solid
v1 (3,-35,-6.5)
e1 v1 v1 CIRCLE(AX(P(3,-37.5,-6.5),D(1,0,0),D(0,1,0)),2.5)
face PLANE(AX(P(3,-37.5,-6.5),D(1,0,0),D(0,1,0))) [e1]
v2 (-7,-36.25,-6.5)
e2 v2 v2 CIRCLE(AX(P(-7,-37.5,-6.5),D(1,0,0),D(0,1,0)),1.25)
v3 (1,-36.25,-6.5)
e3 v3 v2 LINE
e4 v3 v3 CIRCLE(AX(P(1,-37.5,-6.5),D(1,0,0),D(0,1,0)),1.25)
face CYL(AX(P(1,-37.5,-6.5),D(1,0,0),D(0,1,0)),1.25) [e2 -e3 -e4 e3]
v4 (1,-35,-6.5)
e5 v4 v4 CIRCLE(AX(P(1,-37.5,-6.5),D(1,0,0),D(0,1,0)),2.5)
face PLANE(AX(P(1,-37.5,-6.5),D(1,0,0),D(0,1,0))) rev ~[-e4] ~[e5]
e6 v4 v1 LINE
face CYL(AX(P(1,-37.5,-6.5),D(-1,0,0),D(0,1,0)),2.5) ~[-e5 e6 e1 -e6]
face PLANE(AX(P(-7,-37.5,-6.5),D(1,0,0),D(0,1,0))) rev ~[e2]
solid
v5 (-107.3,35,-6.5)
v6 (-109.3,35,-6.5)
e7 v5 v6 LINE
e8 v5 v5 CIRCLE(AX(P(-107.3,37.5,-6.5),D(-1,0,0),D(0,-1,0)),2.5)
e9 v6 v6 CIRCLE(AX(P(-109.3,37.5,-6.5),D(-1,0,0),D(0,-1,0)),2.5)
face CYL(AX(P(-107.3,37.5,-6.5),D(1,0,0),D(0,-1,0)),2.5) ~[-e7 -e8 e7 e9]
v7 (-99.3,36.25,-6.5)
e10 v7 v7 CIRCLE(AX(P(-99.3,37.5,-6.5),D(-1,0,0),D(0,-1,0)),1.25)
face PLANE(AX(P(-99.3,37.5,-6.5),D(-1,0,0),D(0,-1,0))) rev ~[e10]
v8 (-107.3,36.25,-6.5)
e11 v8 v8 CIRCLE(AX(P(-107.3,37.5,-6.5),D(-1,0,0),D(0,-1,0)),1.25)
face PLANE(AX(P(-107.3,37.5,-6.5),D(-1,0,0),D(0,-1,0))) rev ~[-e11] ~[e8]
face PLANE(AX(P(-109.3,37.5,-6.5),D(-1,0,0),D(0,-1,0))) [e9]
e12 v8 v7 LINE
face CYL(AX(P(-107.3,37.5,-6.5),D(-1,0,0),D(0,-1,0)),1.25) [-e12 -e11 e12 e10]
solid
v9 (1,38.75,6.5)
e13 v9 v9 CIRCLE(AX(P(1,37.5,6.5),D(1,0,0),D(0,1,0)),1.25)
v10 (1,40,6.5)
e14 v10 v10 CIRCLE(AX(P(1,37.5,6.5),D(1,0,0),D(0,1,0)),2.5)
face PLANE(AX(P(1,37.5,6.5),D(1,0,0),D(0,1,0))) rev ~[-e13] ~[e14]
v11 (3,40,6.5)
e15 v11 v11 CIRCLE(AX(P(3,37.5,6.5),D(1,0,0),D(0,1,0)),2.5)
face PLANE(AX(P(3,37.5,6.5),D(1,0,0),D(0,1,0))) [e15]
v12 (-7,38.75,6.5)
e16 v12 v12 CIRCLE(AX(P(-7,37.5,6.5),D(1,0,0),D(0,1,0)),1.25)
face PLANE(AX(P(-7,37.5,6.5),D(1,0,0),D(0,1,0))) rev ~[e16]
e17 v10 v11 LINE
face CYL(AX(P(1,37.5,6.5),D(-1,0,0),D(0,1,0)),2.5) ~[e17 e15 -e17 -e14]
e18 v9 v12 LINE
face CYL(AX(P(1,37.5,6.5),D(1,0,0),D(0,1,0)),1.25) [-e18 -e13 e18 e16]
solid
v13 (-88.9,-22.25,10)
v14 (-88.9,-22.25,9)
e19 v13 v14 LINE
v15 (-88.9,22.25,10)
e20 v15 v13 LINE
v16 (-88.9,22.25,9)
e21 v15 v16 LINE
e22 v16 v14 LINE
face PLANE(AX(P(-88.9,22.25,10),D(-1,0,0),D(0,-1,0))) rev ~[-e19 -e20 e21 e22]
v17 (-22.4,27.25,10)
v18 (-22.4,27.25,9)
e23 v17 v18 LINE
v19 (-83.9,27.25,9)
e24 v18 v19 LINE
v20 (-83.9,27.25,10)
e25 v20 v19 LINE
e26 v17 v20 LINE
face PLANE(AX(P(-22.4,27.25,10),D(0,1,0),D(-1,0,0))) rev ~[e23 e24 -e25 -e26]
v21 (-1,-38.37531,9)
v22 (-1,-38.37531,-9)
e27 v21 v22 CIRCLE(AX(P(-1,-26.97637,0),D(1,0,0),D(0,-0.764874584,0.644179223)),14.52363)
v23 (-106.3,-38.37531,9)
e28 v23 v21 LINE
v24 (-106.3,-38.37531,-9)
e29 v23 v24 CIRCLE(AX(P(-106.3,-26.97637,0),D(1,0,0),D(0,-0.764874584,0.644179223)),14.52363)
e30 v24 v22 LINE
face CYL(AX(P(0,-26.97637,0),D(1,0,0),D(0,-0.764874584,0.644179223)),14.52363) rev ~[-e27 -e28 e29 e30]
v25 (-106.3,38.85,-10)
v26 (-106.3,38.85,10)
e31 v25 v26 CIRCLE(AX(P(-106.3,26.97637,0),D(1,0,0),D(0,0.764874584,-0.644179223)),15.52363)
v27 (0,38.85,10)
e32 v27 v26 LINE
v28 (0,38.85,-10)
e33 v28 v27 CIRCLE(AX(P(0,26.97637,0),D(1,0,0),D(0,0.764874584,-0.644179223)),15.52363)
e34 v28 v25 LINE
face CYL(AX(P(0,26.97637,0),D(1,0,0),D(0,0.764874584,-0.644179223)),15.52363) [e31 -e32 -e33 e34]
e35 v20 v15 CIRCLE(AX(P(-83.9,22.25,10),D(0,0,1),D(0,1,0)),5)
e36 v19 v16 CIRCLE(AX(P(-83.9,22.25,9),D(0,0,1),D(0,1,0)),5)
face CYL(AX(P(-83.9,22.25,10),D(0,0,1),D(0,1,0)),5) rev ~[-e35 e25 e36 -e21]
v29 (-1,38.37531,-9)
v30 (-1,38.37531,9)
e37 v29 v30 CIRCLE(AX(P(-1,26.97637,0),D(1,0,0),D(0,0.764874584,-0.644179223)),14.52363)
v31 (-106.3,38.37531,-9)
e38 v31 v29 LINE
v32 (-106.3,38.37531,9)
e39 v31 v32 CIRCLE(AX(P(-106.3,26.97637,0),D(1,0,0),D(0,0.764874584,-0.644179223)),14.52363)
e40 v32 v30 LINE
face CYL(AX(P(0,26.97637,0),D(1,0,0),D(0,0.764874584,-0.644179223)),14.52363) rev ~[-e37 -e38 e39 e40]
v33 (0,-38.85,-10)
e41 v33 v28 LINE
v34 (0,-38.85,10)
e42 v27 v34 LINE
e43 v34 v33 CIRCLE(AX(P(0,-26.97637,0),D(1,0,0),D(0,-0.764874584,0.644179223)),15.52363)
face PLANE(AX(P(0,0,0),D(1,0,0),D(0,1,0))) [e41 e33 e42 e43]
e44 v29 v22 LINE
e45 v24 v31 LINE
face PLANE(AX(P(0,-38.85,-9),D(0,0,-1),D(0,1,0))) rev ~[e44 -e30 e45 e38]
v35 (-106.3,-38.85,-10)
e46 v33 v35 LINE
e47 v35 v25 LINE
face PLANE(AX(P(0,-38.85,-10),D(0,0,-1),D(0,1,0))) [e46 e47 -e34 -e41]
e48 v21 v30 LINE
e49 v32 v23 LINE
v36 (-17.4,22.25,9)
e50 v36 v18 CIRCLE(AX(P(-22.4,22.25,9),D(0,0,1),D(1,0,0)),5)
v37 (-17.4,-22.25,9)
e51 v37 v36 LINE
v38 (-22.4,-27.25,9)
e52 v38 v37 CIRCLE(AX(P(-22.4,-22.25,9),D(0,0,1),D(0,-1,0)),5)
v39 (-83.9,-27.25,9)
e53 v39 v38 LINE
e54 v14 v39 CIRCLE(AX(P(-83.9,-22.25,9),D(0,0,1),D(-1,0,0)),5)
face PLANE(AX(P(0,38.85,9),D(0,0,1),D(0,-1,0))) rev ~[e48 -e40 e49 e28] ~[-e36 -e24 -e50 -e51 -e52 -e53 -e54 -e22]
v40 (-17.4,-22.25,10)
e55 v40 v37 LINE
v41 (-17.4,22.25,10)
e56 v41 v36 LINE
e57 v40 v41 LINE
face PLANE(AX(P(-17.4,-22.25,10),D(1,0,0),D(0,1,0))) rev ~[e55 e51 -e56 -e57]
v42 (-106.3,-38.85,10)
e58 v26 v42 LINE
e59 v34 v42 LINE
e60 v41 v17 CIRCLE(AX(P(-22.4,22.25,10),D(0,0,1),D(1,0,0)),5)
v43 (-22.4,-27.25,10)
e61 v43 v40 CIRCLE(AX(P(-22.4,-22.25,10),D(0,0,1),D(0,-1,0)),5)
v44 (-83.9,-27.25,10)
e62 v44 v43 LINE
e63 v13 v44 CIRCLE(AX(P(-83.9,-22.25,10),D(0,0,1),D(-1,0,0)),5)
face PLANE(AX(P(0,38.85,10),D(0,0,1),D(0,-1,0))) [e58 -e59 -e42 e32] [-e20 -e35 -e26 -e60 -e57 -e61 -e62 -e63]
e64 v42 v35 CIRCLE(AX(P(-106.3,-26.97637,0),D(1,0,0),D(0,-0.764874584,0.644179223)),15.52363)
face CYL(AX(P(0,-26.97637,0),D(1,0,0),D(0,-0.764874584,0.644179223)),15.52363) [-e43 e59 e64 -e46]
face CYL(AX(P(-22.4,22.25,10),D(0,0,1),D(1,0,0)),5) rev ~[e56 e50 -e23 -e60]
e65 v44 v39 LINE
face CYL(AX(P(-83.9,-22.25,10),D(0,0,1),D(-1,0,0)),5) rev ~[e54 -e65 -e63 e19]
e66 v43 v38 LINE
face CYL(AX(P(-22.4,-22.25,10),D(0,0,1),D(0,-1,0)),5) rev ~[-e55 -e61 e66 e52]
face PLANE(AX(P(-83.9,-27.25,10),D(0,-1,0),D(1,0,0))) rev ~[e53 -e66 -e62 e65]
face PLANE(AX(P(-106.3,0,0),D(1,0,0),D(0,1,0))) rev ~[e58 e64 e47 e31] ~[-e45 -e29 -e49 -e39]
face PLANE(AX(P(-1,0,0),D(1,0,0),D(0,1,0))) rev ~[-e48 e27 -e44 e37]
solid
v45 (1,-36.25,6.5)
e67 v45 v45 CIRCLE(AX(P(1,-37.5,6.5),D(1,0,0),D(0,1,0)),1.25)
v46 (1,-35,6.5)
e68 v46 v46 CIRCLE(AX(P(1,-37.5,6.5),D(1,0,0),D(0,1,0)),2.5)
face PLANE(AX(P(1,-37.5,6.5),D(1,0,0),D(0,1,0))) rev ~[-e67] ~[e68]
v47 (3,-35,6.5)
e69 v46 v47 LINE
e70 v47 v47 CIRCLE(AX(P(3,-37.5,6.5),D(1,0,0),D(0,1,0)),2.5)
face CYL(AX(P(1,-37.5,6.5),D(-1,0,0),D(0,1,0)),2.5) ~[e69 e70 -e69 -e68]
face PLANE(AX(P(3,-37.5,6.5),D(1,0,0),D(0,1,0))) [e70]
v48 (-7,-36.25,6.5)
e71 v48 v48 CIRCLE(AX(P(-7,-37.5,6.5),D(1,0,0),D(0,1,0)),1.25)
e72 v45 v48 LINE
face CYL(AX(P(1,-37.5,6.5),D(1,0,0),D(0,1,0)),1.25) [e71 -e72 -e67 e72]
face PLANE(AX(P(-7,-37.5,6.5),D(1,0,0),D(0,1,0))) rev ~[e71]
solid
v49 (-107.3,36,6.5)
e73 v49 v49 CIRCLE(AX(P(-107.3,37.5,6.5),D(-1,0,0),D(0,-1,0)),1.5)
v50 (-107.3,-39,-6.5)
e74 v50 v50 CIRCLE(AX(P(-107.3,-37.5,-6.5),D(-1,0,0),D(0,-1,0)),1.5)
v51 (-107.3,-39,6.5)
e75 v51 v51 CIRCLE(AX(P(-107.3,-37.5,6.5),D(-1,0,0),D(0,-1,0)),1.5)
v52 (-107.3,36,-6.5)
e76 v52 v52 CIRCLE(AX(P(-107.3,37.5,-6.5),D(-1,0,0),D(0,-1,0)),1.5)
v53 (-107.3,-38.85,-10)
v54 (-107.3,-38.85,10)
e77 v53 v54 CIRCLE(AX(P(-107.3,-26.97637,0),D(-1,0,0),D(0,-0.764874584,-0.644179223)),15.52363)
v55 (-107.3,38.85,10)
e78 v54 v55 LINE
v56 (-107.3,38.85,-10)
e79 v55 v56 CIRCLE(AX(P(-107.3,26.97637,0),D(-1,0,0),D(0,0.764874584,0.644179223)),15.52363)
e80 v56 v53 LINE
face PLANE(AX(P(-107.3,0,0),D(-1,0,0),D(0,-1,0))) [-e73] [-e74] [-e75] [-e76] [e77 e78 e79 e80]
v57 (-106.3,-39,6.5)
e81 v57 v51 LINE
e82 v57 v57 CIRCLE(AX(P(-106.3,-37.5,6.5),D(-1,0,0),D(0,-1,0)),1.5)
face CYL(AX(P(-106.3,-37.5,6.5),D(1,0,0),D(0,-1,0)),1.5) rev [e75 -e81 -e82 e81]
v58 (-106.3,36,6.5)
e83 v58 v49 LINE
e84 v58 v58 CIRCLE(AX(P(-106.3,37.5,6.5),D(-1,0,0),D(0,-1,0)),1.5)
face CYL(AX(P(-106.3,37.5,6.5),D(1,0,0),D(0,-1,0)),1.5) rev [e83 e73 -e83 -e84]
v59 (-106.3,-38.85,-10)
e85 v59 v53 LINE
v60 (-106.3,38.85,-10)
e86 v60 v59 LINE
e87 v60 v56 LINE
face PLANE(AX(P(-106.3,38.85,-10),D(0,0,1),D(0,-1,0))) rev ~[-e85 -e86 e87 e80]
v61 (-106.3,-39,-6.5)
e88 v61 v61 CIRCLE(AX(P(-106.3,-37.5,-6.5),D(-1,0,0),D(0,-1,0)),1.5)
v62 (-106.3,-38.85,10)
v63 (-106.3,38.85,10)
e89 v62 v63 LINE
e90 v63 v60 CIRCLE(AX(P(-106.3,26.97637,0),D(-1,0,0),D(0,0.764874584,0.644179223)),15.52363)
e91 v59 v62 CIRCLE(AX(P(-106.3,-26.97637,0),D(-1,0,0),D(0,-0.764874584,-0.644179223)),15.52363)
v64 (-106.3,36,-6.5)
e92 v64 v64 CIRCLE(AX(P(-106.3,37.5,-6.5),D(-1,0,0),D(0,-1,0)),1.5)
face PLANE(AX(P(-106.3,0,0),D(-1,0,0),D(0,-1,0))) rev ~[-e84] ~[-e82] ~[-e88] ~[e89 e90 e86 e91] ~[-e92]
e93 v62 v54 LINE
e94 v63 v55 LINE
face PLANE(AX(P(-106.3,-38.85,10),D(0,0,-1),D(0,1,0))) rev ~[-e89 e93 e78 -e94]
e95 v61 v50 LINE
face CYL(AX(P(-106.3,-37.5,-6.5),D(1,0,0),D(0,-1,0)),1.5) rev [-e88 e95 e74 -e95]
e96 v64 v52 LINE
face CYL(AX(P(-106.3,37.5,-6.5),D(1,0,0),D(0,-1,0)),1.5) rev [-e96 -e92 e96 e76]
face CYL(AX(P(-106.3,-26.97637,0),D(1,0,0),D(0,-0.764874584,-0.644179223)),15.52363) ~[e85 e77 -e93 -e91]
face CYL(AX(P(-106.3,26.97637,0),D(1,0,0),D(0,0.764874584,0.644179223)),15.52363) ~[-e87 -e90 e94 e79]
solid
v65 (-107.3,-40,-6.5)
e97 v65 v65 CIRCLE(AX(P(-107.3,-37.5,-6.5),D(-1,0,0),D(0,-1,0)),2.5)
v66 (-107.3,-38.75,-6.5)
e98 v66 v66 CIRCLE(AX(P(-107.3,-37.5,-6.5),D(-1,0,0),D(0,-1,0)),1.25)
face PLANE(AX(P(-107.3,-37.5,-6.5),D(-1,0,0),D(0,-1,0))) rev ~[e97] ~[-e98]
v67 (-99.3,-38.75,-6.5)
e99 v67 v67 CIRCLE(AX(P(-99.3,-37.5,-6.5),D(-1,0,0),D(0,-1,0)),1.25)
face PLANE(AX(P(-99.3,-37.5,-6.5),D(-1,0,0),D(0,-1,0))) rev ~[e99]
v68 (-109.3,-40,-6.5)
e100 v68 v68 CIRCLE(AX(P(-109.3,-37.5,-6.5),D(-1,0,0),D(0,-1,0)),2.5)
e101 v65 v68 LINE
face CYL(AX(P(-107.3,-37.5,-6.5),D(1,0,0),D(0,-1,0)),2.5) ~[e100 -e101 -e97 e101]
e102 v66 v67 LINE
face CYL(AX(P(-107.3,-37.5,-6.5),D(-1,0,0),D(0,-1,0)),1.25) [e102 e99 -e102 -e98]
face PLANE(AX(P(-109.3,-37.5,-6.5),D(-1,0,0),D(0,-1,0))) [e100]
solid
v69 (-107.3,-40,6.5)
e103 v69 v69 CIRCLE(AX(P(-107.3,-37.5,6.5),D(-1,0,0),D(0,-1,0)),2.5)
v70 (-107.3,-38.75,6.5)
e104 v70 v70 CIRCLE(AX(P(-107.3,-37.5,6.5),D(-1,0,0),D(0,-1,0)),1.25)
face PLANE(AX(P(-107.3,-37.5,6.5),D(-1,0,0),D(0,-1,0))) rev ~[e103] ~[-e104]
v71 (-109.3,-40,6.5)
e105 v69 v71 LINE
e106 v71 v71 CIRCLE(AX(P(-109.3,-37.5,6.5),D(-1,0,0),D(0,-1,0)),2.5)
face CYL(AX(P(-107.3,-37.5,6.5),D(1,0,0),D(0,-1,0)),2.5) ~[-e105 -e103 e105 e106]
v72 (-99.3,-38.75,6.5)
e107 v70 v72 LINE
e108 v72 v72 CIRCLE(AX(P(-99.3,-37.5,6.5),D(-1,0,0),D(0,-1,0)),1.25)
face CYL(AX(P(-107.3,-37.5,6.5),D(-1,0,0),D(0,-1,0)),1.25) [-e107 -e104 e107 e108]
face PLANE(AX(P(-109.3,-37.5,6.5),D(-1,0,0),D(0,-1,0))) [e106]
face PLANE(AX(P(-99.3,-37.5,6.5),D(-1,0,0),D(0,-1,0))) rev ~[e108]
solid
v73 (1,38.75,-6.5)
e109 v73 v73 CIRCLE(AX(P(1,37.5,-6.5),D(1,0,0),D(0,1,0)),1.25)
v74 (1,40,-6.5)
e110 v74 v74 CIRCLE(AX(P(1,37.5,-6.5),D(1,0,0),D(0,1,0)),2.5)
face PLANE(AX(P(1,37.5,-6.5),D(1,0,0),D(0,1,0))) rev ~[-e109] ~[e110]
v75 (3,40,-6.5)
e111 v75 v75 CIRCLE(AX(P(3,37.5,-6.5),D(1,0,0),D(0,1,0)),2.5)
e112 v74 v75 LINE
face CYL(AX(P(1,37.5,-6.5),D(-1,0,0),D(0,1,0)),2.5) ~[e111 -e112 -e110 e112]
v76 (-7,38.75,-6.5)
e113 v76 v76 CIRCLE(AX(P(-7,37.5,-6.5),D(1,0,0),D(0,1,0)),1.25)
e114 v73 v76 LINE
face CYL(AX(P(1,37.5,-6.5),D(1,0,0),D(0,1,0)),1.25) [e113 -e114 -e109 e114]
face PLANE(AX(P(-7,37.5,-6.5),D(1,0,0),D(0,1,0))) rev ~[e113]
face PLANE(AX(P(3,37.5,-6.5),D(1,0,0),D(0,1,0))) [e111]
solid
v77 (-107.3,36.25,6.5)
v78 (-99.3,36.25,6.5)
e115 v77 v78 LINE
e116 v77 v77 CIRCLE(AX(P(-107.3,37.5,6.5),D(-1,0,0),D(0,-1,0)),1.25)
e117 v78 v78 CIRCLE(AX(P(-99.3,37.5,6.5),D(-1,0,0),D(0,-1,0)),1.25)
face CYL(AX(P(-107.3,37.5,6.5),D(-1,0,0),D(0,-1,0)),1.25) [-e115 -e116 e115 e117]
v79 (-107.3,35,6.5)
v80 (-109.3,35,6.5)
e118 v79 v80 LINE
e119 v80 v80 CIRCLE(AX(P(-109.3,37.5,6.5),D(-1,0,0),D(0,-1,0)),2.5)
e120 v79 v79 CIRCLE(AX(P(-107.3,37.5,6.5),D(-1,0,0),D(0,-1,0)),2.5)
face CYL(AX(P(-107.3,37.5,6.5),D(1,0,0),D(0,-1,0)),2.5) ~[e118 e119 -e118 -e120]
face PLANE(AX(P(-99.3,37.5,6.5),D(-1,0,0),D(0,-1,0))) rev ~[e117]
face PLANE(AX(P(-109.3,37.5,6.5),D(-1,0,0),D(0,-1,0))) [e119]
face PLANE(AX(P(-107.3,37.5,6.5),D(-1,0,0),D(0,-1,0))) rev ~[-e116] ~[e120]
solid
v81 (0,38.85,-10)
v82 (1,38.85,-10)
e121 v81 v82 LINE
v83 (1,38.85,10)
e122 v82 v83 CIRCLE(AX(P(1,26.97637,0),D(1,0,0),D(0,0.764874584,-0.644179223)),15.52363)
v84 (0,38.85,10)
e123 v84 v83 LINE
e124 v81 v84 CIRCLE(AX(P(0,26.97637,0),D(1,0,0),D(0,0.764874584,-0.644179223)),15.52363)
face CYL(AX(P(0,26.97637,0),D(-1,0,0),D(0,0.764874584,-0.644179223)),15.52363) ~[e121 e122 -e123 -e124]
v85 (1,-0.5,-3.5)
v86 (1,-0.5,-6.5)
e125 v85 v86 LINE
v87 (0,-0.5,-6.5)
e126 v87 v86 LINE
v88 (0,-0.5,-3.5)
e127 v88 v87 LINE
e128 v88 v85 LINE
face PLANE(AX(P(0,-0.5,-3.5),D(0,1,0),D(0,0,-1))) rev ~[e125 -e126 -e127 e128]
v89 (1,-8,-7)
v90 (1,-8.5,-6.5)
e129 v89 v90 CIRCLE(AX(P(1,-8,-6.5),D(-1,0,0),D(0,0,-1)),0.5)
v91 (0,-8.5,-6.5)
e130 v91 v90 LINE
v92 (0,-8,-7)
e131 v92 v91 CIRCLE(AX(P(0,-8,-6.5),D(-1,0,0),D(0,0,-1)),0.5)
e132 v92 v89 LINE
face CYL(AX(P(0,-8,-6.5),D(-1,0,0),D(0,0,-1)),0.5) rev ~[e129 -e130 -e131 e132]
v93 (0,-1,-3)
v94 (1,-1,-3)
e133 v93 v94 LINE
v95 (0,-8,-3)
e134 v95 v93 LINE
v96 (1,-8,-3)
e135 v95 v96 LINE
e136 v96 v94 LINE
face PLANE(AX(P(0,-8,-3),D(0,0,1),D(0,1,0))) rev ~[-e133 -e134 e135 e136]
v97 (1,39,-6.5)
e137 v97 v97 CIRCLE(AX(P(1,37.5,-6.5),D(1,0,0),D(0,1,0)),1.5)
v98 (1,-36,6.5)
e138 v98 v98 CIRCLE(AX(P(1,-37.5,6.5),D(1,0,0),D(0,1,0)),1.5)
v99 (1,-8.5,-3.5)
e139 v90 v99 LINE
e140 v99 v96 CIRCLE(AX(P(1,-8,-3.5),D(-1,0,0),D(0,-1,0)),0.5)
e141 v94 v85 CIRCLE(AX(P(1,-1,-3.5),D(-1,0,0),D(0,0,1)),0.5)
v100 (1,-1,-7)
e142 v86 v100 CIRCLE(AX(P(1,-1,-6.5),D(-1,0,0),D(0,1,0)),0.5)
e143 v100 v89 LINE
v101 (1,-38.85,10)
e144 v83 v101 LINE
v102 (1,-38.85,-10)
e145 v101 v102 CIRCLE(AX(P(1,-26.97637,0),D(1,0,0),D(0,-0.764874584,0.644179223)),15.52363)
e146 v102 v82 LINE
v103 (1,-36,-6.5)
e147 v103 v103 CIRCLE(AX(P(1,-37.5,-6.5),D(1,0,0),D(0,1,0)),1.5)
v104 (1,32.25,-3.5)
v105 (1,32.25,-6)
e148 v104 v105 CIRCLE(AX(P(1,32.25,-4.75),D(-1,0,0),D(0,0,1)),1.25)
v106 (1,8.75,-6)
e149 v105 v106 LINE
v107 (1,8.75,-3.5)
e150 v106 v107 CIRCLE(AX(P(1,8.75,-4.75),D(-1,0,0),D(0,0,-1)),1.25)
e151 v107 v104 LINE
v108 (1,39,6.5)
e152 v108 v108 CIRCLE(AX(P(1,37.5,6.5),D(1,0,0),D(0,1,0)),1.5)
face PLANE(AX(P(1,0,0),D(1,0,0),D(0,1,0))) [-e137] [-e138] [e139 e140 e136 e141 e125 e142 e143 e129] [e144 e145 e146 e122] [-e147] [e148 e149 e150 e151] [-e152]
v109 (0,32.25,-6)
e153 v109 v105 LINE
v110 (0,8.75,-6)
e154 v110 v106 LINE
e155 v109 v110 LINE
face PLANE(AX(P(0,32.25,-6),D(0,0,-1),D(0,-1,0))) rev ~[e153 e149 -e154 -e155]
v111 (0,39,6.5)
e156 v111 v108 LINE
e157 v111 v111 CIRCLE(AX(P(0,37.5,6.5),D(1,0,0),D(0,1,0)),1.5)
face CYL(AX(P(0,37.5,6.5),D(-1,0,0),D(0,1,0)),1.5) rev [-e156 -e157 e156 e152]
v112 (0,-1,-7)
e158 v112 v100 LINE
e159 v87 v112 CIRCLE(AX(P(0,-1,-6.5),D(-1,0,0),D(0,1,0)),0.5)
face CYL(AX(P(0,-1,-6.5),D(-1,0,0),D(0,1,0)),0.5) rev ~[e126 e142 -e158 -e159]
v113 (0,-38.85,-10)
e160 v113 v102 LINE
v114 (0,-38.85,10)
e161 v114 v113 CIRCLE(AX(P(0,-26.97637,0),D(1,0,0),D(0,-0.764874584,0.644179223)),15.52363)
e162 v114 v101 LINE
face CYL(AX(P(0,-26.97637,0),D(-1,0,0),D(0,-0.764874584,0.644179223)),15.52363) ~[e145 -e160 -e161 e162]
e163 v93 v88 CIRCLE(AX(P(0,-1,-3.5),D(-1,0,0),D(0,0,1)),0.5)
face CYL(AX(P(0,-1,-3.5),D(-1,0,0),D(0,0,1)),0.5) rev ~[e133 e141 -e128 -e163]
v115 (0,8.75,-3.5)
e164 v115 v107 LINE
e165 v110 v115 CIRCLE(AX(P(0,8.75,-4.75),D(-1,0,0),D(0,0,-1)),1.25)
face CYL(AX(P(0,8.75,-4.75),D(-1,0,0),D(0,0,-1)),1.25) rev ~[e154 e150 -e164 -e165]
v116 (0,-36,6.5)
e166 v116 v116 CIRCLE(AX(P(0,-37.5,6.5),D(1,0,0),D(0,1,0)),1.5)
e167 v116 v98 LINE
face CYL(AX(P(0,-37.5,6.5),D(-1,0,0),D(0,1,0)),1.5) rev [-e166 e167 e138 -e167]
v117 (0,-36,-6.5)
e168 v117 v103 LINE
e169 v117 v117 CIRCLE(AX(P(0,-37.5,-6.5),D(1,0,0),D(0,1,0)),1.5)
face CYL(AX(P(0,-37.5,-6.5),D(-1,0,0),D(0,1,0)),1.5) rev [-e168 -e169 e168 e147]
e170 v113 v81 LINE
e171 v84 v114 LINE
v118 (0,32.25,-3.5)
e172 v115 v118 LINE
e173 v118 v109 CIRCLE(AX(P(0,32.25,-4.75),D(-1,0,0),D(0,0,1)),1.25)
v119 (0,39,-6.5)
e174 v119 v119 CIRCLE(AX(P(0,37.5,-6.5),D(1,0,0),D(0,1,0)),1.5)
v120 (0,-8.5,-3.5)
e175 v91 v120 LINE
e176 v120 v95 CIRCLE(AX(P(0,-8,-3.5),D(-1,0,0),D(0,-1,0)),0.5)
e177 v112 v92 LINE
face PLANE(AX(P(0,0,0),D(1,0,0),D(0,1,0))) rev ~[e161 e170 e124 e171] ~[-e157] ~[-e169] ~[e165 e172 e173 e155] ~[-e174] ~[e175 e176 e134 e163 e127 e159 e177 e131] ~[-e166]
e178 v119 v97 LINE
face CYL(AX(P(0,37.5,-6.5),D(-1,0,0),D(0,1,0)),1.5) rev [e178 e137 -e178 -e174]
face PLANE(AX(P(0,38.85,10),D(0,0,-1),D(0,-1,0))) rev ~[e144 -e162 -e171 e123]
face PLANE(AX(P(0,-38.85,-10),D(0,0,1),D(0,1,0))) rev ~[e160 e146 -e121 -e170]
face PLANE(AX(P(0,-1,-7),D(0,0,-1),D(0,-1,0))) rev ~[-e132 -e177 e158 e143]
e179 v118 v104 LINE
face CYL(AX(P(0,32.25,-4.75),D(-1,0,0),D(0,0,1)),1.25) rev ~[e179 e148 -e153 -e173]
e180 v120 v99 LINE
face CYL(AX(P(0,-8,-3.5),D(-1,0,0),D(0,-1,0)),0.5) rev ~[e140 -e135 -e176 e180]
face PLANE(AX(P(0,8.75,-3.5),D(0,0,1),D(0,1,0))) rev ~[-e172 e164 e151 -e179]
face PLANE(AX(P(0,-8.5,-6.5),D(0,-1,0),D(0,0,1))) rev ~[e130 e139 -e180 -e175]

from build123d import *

# Parameters (mm, degrees)
F0_R      = 1.5
F1_DEPTH  = 1
F2_R      = 2.5
F2_R_2    = 1.5
F2_R_3    = 1.25
F3_DEPTH  = 2
F4_DEPTH  = 8
F6_DEPTH  = 106.3
F7_T      = -1
F9_DEPTH  = 1
F10_R     = 1.5
F11_DEPTH = 1
F12_R     = 2.5
F12_R_2   = 1.5
F12_R_3   = 1.25
F13_DEPTH = 2
F14_DEPTH = 8


with BuildPart() as f1:
    # F0 (on Right) → F1 (new body)
    with BuildSketch(Plane.YZ):
        with BuildLine():
            Line((38.85, 10), (0, 10))
            Line((0, 10), (-38.85, 10))
            ThreePointArc((-38.85, 10), (-42.5, 0), (-38.85, -10))
            Line((-38.85, -10), (0, -10))
            Line((0, -10), (38.85, -10))
            ThreePointArc((38.85, -10), (42.5, 0), (38.85, 10))
        make_face()
        with Locations((-37.5, -6.5)):
            Circle(F0_R, mode=Mode.SUBTRACT)
        with BuildLine():
            ThreePointArc((-8.5, -3.5), (-8.3535533906, -3.1464466094), (-8, -3))
            Line((-8, -3), (-1, -3))
            ThreePointArc((-1, -3), (-0.6464466094, -3.1464466094), (-0.5, -3.5))
            Line((-0.5, -3.5), (-0.5, -6.5))
            ThreePointArc((-0.5, -6.5), (-0.6464466094, -6.8535533906), (-1, -7))
            Line((-1, -7), (-8, -7))
            ThreePointArc((-8, -7), (-8.3535533906, -6.8535533906), (-8.5, -6.5))
            Line((-8.5, -6.5), (-8.5, -3.5))
        make_face(mode=Mode.SUBTRACT)
        with Locations((37.5, -6.5)):
            Circle(F0_R, mode=Mode.SUBTRACT)
        with BuildLine():
            ThreePointArc((8.75, -6), (7.5, -4.75), (8.75, -3.5))
            Line((8.75, -3.5), (32.25, -3.5))
            ThreePointArc((32.25, -3.5), (33.5, -4.75), (32.25, -6))
            Line((32.25, -6), (8.75, -6))
        make_face(mode=Mode.SUBTRACT)
        with Locations((-37.5, 6.5)):
            Circle(F0_R, mode=Mode.SUBTRACT)
        with Locations((37.5, 6.5)):
            Circle(F0_R, mode=Mode.SUBTRACT)
    extrude(amount=F1_DEPTH)


with BuildPart() as f3:
    # F2 (on face) → F3 (new body)
    with BuildSketch(Plane.YZ.offset(1)):
        with Locations((-37.5, 6.5)):
            Circle(F2_R)
        with Locations((-37.5, 6.5)):
            Circle(F2_R_2, mode=Mode.SUBTRACT)
        with Locations((-37.5, 6.5)):
            Circle(F2_R_2)
        with Locations((-37.5, 6.5)):
            Circle(F2_R_3, mode=Mode.SUBTRACT)
        with Locations((-37.5, 6.5)):
            Circle(F2_R_3)
    extrude(amount=F3_DEPTH)

    # F2 (on face) → F4 (join)
    with BuildSketch(Plane.YZ.offset(1)):
        with Locations((-37.5, 6.5)):
            Circle(F2_R_3)
    extrude(amount=-F4_DEPTH)


with BuildPart() as f3b:
    # F2 (on face) → F3, piece 2 (new body)
    with BuildSketch(Plane.YZ.offset(1)):
        with Locations((37.5, 6.5)):
            Circle(F2_R)
        with Locations((37.5, 6.5)):
            Circle(F2_R_2, mode=Mode.SUBTRACT)
        with Locations((37.5, 6.5)):
            Circle(F2_R_2)
        with Locations((37.5, 6.5)):
            Circle(F2_R_3, mode=Mode.SUBTRACT)
        with Locations((37.5, 6.5)):
            Circle(F2_R_3)
    extrude(amount=F3_DEPTH)

    # F2 (on face) → F4, piece 3 (join)
    with BuildSketch(Plane.YZ.offset(1)):
        with Locations((37.5, 6.5)):
            Circle(F2_R_3)
    extrude(amount=-F4_DEPTH)


with BuildPart() as f3c:
    # F2 (on face) → F3, piece 3 (new body)
    with BuildSketch(Plane.YZ.offset(1)):
        with Locations((37.5, -6.5)):
            Circle(F2_R)
        with Locations((37.5, -6.5)):
            Circle(F2_R_2, mode=Mode.SUBTRACT)
        with Locations((37.5, -6.5)):
            Circle(F2_R_2)
        with Locations((37.5, -6.5)):
            Circle(F2_R_3, mode=Mode.SUBTRACT)
        with Locations((37.5, -6.5)):
            Circle(F2_R_3)
    extrude(amount=F3_DEPTH)

    # F2 (on face) → F4, piece 4 (join)
    with BuildSketch(Plane.YZ.offset(1)):
        with Locations((37.5, -6.5)):
            Circle(F2_R_3)
    extrude(amount=-F4_DEPTH)


with BuildPart() as f3d:
    # F2 (on face) → F3, piece 4 (new body)
    with BuildSketch(Plane.YZ.offset(1)):
        with Locations((-37.5, -6.5)):
            Circle(F2_R)
        with Locations((-37.5, -6.5)):
            Circle(F2_R_2, mode=Mode.SUBTRACT)
        with Locations((-37.5, -6.5)):
            Circle(F2_R_2)
        with Locations((-37.5, -6.5)):
            Circle(F2_R_3, mode=Mode.SUBTRACT)
        with Locations((-37.5, -6.5)):
            Circle(F2_R_3)
    extrude(amount=F3_DEPTH)

    # F2 (on face) → F4, piece 2 (join)
    with BuildSketch(Plane.YZ.offset(1)):
        with Locations((-37.5, -6.5)):
            Circle(F2_R_3)
    extrude(amount=-F4_DEPTH)


with BuildPart() as f6:
    # F5 (on face) → F6 (new body)
    with BuildSketch(Plane.YZ):
        with BuildLine():
            Line((38.85, 10), (0, 10))
            Line((0, 10), (-38.85, 10))
            ThreePointArc((-38.85, 10), (-42.5, 0), (-38.85, -10))
            Line((-38.85, -10), (0, -10))
            Line((0, -10), (38.85, -10))
            ThreePointArc((38.85, -10), (42.5, 0), (38.85, 10))
        make_face()
    extrude(amount=-F6_DEPTH)

    # F7
    f7_openings = [f6.faces().sort_by_distance(p)[0] for p in [
        (-106.3, 0, 0),
    ]]
    offset(amount=F7_T, openings=f7_openings)

    # F8 (on face) → F9 (cut, through all)
    with BuildSketch(Plane.XY.offset(10)):
        with BuildLine():
            Line((-22.4, 27.25), (-83.9, 27.25))
            ThreePointArc((-83.9, 27.25), (-87.4355339059, 25.7855339059), (-88.9, 22.25))
            Line((-88.9, 22.25), (-88.9, -22.25))
            ThreePointArc((-88.9, -22.25), (-87.4355339059, -25.7855339059), (-83.9, -27.25))
            Line((-83.9, -27.25), (-22.4, -27.25))
            ThreePointArc((-22.4, -27.25), (-18.8644660941, -25.7855339059), (-17.4, -22.25))
            Line((-17.4, -22.25), (-17.4, 22.25))
            ThreePointArc((-17.4, 22.25), (-18.8644660941, 25.7855339059), (-22.4, 27.25))
        make_face()
    extrude(amount=-F9_DEPTH, mode=Mode.SUBTRACT)


with BuildPart() as f11:
    # F10 (on face) → F11 (new body)
    with BuildSketch(Plane(origin=(-106.3, 0, 0), x_dir=(0, -1, 0), z_dir=(-1, 0, 0))):
        with BuildLine():
            Line((38.85, 10), (0, 10))
            Line((0, 10), (-38.85, 10))
            ThreePointArc((-38.85, 10), (-42.5, 0), (-38.85, -10))
            Line((-38.85, -10), (0, -10))
            Line((0, -10), (38.85, -10))
            ThreePointArc((38.85, -10), (42.5, 0), (38.85, 10))
        make_face()
        with BuildLine():
            Line((-38.3753098293, 9), (-37.5, 9))
            Line((-37.5, 9), (37.5000000133, 9))
            Line((37.5000000133, 9), (38.3753098293, 9))
            ThreePointArc((38.3753098293, 9), (38.4664122069, 8.8833979586), (38.5563218887, 8.7658737978))
            ThreePointArc((38.5563218887, 8.7658737978), (39.6084122844, 7.8433531327), (40, 6.5))
            ThreePointArc((40, 6.5), (39.9997557231, 6.4650525408), (39.9990229401, 6.4301119112))
            ThreePointArc((39.9990229401, 6.4301119112), (41.5, 0), (39.9990229401, -6.4301119112))
            ThreePointArc((39.9990229401, -6.4301119112), (39.9997557231, -6.4650525408), (40, -6.5))
            ThreePointArc((40, -6.5), (39.6084122844, -7.8433531327), (38.5563218887, -8.7658737978))
            ThreePointArc((38.5563218887, -8.7658737978), (38.4664122069, -8.8833979586), (38.3753098293, -9))
            Line((38.3753098293, -9), (37.5, -9))
            Line((37.5, -9), (-37.5, -9))
            Line((-37.5, -9), (-38.3753098293, -9))
            ThreePointArc((-38.3753098293, -9), (-38.4664122069, -8.8833979586), (-38.5563218887, -8.7658737978))
            ThreePointArc((-38.5563218887, -8.7658737978), (-39.6269849813, -7.8137484118), (-39.9990229401, -6.4301119112))
            ThreePointArc((-39.9990229401, -6.4301119112), (-41.5, 0), (-39.9990229401, 6.4301119112))
            ThreePointArc((-39.9990229401, 6.4301119112), (-39.6269849813, 7.8137484118), (-38.5563218887, 8.7658737978))
            ThreePointArc((-38.5563218887, 8.7658737978), (-38.4664122069, 8.8833979586), (-38.3753098293, 9))
        make_face(mode=Mode.SUBTRACT)
        with BuildLine():
            ThreePointArc((-37.5, 9), (-35.732233047, 8.267766953), (-35, 6.5))
            ThreePointArc((-35, 6.5), (-37.4650525408, 4.0002442769), (-39.9990229401, 6.4301119112))
            ThreePointArc((-39.9990229401, 6.4301119112), (-41.5, 0), (-39.9990229401, -6.4301119112))
            ThreePointArc((-39.9990229401, -6.4301119112), (-37.4650525408, -4.0002442769), (-35, -6.5))
            ThreePointArc((-35, -6.5), (-35.732233047, -8.267766953), (-37.5, -9))
            Line((-37.5, -9), (37.5, -9))
            ThreePointArc((37.5, -9), (35.7076941915, -4.7571173622), (39.9990229401, -6.4301119112))
            ThreePointArc((39.9990229401, -6.4301119112), (41.5, 0), (39.9990229401, 6.4301119112))
            ThreePointArc((39.9990229401, 6.4301119112), (35.7076941869, 4.757117367), (37.5000000133, 9))
            Line((37.5000000133, 9), (-37.5, 9))
        make_face()
        with BuildLine():
            ThreePointArc((38.5563218887, -8.7658737978), (39.3329871331, -7.6321584101), (39.9990229401, -6.4301119112))
            ThreePointArc((39.9990229401, -6.4301119112), (35.7076941915, -4.7571173622), (37.5, -9))
            ThreePointArc((37.5, -9), (38.0409785142, -8.9407667335), (38.5563218887, -8.7658737978))
        make_face()
        with Locations((37.5, -6.5)):
            Circle(F10_R, mode=Mode.SUBTRACT)
        with BuildLine():
            ThreePointArc((38.5563218887, 8.7658737978), (38.0409785207, 8.940766732), (37.5000000133, 9))
            ThreePointArc((37.5000000133, 9), (35.7076941869, 4.757117367), (39.9990229401, 6.4301119112))
            ThreePointArc((39.9990229401, 6.4301119112), (39.3329871331, 7.6321584101), (38.5563218887, 8.7658737978))
        make_face()
        with Locations((37.5, 6.5)):
            Circle(F10_R, mode=Mode.SUBTRACT)
        with BuildLine():
            ThreePointArc((-39.9990229401, 6.4301119112), (-37.4650525408, 4.0002442769), (-35, 6.5))
            ThreePointArc((-35, 6.5), (-35.732233047, 8.267766953), (-37.5, 9))
            ThreePointArc((-37.5, 9), (-38.0409785142, 8.9407667335), (-38.5563218887, 8.7658737978))
            ThreePointArc((-38.5563218887, 8.7658737978), (-39.3329871331, 7.6321584101), (-39.9990229401, 6.4301119112))
        make_face()
        with Locations((-37.5, 6.5)):
            Circle(F10_R, mode=Mode.SUBTRACT)
        with BuildLine():
            ThreePointArc((-35, -6.5), (-37.4650525408, -4.0002442769), (-39.9990229401, -6.4301119112))
            ThreePointArc((-39.9990229401, -6.4301119112), (-39.3329871331, -7.6321584101), (-38.5563218887, -8.7658737978))
            ThreePointArc((-38.5563218887, -8.7658737978), (-38.0409785142, -8.9407667335), (-37.5, -9))
            ThreePointArc((-37.5, -9), (-35.732233047, -8.267766953), (-35, -6.5))
        make_face()
        with Locations((-37.5, -6.5)):
            Circle(F10_R, mode=Mode.SUBTRACT)
        with BuildLine():
            ThreePointArc((40, -6.5), (39.9997557231, -6.4650525408), (39.9990229401, -6.4301119112))
            ThreePointArc((39.9990229401, -6.4301119112), (39.3329871331, -7.6321584101), (38.5563218887, -8.7658737978))
            ThreePointArc((38.5563218887, -8.7658737978), (39.6084122844, -7.8433531327), (40, -6.5))
        make_face()
        with BuildLine():
            ThreePointArc((40, 6.5), (39.6084122844, 7.8433531327), (38.5563218887, 8.7658737978))
            ThreePointArc((38.5563218887, 8.7658737978), (39.3329871331, 7.6321584101), (39.9990229401, 6.4301119112))
            ThreePointArc((39.9990229401, 6.4301119112), (39.9997557231, 6.4650525408), (40, 6.5))
        make_face()
        with BuildLine():
            ThreePointArc((-38.5563218887, -8.7658737978), (-39.3329871331, -7.6321584101), (-39.9990229401, -6.4301119112))
            ThreePointArc((-39.9990229401, -6.4301119112), (-39.6269849813, -7.8137484118), (-38.5563218887, -8.7658737978))
        make_face()
        with BuildLine():
            ThreePointArc((-38.5563218887, 8.7658737978), (-39.6269849813, 7.8137484118), (-39.9990229401, 6.4301119112))
            ThreePointArc((-39.9990229401, 6.4301119112), (-39.3329871331, 7.6321584101), (-38.5563218887, 8.7658737978))
        make_face()
        with BuildLine():
            ThreePointArc((-38.5563218887, 8.7658737978), (-38.0409785142, 8.9407667335), (-37.5, 9))
            Line((-37.5, 9), (-38.3753098293, 9))
            ThreePointArc((-38.3753098293, 9), (-38.4664122069, 8.8833979586), (-38.5563218887, 8.7658737978))
        make_face()
        with BuildLine():
            ThreePointArc((-37.5, -9), (-38.0409785142, -8.9407667335), (-38.5563218887, -8.7658737978))
            ThreePointArc((-38.5563218887, -8.7658737978), (-38.4664122069, -8.8833979586), (-38.3753098293, -9))
            Line((-38.3753098293, -9), (-37.5, -9))
        make_face()
        with BuildLine():
            Line((38.3753098293, 9), (37.5000000133, 9))
            ThreePointArc((37.5000000133, 9), (38.0409785207, 8.940766732), (38.5563218887, 8.7658737978))
            ThreePointArc((38.5563218887, 8.7658737978), (38.4664122069, 8.8833979586), (38.3753098293, 9))
        make_face()
        with BuildLine():
            ThreePointArc((38.5563218887, -8.7658737978), (38.0409785142, -8.9407667335), (37.5, -9))
            Line((37.5, -9), (38.3753098293, -9))
            ThreePointArc((38.3753098293, -9), (38.4664122069, -8.8833979586), (38.5563218887, -8.7658737978))
        make_face()
    extrude(amount=F11_DEPTH)


with BuildPart() as f13:
    # F12 (on face) → F13 (new body)
    with BuildSketch(Plane(origin=(-107.3, 0, 0), x_dir=(0, -1, 0), z_dir=(-1, 0, 0))):
        with Locations((37.5, -6.5)):
            Circle(F12_R)
        with Locations((37.5, -6.5)):
            Circle(F12_R_2, mode=Mode.SUBTRACT)
        with Locations((37.5, -6.5)):
            Circle(F12_R_2)
        with Locations((37.5, -6.5)):
            Circle(F12_R_3, mode=Mode.SUBTRACT)
        with Locations((37.5, -6.5)):
            Circle(F12_R_3)
    extrude(amount=F13_DEPTH)

    # F12 (on face) → F14 (join)
    with BuildSketch(Plane(origin=(-107.3, 0, 0), x_dir=(0, -1, 0), z_dir=(-1, 0, 0))):
        with Locations((37.5, -6.5)):
            Circle(F12_R_3)
    extrude(amount=-F14_DEPTH)


with BuildPart() as f13b:
    # F12 (on face) → F13, piece 2 (new body)
    with BuildSketch(Plane(origin=(-107.3, 0, 0), x_dir=(0, -1, 0), z_dir=(-1, 0, 0))):
        with Locations((37.5, 6.5)):
            Circle(F12_R)
        with Locations((37.5, 6.5)):
            Circle(F12_R_2, mode=Mode.SUBTRACT)
        with Locations((37.5, 6.5)):
            Circle(F12_R_2)
        with Locations((37.5, 6.5)):
            Circle(F12_R_3, mode=Mode.SUBTRACT)
        with Locations((37.5, 6.5)):
            Circle(F12_R_3)
    extrude(amount=F13_DEPTH)

    # F12 (on face) → F14, piece 2 (join)
    with BuildSketch(Plane(origin=(-107.3, 0, 0), x_dir=(0, -1, 0), z_dir=(-1, 0, 0))):
        with Locations((37.5, 6.5)):
            Circle(F12_R_3)
    extrude(amount=-F14_DEPTH)


with BuildPart() as f13c:
    # F12 (on face) → F13, piece 3 (new body)
    with BuildSketch(Plane(origin=(-107.3, 0, 0), x_dir=(0, -1, 0), z_dir=(-1, 0, 0))):
        with Locations((-37.5, -6.5)):
            Circle(F12_R)
        with Locations((-37.5, -6.5)):
            Circle(F12_R_2, mode=Mode.SUBTRACT)
        with Locations((-37.5, -6.5)):
            Circle(F12_R_2)
        with Locations((-37.5, -6.5)):
            Circle(F12_R_3, mode=Mode.SUBTRACT)
        with Locations((-37.5, -6.5)):
            Circle(F12_R_3)
    extrude(amount=F13_DEPTH)

    # F12 (on face) → F14, piece 4 (join)
    with BuildSketch(Plane(origin=(-107.3, 0, 0), x_dir=(0, -1, 0), z_dir=(-1, 0, 0))):
        with Locations((-37.5, -6.5)):
            Circle(F12_R_3)
    extrude(amount=-F14_DEPTH)


with BuildPart() as f13d:
    # F12 (on face) → F13, piece 4 (new body)
    with BuildSketch(Plane(origin=(-107.3, 0, 0), x_dir=(0, -1, 0), z_dir=(-1, 0, 0))):
        with Locations((-37.5, 6.5)):
            Circle(F12_R)
        with Locations((-37.5, 6.5)):
            Circle(F12_R_2, mode=Mode.SUBTRACT)
        with Locations((-37.5, 6.5)):
            Circle(F12_R_2)
        with Locations((-37.5, 6.5)):
            Circle(F12_R_3, mode=Mode.SUBTRACT)
        with Locations((-37.5, 6.5)):
            Circle(F12_R_3)
    extrude(amount=F13_DEPTH)

    # F12 (on face) → F14, piece 3 (join)
    with BuildSketch(Plane(origin=(-107.3, 0, 0), x_dir=(0, -1, 0), z_dir=(-1, 0, 0))):
        with Locations((-37.5, 6.5)):
            Circle(F12_R_3)
    extrude(amount=-F14_DEPTH)


solid = Compound([f1.part, f3.part, f3b.part, f3c.part, f3d.part, f6.part, f11.part, f13.part, f13b.part, f13c.part, f13d.part])
